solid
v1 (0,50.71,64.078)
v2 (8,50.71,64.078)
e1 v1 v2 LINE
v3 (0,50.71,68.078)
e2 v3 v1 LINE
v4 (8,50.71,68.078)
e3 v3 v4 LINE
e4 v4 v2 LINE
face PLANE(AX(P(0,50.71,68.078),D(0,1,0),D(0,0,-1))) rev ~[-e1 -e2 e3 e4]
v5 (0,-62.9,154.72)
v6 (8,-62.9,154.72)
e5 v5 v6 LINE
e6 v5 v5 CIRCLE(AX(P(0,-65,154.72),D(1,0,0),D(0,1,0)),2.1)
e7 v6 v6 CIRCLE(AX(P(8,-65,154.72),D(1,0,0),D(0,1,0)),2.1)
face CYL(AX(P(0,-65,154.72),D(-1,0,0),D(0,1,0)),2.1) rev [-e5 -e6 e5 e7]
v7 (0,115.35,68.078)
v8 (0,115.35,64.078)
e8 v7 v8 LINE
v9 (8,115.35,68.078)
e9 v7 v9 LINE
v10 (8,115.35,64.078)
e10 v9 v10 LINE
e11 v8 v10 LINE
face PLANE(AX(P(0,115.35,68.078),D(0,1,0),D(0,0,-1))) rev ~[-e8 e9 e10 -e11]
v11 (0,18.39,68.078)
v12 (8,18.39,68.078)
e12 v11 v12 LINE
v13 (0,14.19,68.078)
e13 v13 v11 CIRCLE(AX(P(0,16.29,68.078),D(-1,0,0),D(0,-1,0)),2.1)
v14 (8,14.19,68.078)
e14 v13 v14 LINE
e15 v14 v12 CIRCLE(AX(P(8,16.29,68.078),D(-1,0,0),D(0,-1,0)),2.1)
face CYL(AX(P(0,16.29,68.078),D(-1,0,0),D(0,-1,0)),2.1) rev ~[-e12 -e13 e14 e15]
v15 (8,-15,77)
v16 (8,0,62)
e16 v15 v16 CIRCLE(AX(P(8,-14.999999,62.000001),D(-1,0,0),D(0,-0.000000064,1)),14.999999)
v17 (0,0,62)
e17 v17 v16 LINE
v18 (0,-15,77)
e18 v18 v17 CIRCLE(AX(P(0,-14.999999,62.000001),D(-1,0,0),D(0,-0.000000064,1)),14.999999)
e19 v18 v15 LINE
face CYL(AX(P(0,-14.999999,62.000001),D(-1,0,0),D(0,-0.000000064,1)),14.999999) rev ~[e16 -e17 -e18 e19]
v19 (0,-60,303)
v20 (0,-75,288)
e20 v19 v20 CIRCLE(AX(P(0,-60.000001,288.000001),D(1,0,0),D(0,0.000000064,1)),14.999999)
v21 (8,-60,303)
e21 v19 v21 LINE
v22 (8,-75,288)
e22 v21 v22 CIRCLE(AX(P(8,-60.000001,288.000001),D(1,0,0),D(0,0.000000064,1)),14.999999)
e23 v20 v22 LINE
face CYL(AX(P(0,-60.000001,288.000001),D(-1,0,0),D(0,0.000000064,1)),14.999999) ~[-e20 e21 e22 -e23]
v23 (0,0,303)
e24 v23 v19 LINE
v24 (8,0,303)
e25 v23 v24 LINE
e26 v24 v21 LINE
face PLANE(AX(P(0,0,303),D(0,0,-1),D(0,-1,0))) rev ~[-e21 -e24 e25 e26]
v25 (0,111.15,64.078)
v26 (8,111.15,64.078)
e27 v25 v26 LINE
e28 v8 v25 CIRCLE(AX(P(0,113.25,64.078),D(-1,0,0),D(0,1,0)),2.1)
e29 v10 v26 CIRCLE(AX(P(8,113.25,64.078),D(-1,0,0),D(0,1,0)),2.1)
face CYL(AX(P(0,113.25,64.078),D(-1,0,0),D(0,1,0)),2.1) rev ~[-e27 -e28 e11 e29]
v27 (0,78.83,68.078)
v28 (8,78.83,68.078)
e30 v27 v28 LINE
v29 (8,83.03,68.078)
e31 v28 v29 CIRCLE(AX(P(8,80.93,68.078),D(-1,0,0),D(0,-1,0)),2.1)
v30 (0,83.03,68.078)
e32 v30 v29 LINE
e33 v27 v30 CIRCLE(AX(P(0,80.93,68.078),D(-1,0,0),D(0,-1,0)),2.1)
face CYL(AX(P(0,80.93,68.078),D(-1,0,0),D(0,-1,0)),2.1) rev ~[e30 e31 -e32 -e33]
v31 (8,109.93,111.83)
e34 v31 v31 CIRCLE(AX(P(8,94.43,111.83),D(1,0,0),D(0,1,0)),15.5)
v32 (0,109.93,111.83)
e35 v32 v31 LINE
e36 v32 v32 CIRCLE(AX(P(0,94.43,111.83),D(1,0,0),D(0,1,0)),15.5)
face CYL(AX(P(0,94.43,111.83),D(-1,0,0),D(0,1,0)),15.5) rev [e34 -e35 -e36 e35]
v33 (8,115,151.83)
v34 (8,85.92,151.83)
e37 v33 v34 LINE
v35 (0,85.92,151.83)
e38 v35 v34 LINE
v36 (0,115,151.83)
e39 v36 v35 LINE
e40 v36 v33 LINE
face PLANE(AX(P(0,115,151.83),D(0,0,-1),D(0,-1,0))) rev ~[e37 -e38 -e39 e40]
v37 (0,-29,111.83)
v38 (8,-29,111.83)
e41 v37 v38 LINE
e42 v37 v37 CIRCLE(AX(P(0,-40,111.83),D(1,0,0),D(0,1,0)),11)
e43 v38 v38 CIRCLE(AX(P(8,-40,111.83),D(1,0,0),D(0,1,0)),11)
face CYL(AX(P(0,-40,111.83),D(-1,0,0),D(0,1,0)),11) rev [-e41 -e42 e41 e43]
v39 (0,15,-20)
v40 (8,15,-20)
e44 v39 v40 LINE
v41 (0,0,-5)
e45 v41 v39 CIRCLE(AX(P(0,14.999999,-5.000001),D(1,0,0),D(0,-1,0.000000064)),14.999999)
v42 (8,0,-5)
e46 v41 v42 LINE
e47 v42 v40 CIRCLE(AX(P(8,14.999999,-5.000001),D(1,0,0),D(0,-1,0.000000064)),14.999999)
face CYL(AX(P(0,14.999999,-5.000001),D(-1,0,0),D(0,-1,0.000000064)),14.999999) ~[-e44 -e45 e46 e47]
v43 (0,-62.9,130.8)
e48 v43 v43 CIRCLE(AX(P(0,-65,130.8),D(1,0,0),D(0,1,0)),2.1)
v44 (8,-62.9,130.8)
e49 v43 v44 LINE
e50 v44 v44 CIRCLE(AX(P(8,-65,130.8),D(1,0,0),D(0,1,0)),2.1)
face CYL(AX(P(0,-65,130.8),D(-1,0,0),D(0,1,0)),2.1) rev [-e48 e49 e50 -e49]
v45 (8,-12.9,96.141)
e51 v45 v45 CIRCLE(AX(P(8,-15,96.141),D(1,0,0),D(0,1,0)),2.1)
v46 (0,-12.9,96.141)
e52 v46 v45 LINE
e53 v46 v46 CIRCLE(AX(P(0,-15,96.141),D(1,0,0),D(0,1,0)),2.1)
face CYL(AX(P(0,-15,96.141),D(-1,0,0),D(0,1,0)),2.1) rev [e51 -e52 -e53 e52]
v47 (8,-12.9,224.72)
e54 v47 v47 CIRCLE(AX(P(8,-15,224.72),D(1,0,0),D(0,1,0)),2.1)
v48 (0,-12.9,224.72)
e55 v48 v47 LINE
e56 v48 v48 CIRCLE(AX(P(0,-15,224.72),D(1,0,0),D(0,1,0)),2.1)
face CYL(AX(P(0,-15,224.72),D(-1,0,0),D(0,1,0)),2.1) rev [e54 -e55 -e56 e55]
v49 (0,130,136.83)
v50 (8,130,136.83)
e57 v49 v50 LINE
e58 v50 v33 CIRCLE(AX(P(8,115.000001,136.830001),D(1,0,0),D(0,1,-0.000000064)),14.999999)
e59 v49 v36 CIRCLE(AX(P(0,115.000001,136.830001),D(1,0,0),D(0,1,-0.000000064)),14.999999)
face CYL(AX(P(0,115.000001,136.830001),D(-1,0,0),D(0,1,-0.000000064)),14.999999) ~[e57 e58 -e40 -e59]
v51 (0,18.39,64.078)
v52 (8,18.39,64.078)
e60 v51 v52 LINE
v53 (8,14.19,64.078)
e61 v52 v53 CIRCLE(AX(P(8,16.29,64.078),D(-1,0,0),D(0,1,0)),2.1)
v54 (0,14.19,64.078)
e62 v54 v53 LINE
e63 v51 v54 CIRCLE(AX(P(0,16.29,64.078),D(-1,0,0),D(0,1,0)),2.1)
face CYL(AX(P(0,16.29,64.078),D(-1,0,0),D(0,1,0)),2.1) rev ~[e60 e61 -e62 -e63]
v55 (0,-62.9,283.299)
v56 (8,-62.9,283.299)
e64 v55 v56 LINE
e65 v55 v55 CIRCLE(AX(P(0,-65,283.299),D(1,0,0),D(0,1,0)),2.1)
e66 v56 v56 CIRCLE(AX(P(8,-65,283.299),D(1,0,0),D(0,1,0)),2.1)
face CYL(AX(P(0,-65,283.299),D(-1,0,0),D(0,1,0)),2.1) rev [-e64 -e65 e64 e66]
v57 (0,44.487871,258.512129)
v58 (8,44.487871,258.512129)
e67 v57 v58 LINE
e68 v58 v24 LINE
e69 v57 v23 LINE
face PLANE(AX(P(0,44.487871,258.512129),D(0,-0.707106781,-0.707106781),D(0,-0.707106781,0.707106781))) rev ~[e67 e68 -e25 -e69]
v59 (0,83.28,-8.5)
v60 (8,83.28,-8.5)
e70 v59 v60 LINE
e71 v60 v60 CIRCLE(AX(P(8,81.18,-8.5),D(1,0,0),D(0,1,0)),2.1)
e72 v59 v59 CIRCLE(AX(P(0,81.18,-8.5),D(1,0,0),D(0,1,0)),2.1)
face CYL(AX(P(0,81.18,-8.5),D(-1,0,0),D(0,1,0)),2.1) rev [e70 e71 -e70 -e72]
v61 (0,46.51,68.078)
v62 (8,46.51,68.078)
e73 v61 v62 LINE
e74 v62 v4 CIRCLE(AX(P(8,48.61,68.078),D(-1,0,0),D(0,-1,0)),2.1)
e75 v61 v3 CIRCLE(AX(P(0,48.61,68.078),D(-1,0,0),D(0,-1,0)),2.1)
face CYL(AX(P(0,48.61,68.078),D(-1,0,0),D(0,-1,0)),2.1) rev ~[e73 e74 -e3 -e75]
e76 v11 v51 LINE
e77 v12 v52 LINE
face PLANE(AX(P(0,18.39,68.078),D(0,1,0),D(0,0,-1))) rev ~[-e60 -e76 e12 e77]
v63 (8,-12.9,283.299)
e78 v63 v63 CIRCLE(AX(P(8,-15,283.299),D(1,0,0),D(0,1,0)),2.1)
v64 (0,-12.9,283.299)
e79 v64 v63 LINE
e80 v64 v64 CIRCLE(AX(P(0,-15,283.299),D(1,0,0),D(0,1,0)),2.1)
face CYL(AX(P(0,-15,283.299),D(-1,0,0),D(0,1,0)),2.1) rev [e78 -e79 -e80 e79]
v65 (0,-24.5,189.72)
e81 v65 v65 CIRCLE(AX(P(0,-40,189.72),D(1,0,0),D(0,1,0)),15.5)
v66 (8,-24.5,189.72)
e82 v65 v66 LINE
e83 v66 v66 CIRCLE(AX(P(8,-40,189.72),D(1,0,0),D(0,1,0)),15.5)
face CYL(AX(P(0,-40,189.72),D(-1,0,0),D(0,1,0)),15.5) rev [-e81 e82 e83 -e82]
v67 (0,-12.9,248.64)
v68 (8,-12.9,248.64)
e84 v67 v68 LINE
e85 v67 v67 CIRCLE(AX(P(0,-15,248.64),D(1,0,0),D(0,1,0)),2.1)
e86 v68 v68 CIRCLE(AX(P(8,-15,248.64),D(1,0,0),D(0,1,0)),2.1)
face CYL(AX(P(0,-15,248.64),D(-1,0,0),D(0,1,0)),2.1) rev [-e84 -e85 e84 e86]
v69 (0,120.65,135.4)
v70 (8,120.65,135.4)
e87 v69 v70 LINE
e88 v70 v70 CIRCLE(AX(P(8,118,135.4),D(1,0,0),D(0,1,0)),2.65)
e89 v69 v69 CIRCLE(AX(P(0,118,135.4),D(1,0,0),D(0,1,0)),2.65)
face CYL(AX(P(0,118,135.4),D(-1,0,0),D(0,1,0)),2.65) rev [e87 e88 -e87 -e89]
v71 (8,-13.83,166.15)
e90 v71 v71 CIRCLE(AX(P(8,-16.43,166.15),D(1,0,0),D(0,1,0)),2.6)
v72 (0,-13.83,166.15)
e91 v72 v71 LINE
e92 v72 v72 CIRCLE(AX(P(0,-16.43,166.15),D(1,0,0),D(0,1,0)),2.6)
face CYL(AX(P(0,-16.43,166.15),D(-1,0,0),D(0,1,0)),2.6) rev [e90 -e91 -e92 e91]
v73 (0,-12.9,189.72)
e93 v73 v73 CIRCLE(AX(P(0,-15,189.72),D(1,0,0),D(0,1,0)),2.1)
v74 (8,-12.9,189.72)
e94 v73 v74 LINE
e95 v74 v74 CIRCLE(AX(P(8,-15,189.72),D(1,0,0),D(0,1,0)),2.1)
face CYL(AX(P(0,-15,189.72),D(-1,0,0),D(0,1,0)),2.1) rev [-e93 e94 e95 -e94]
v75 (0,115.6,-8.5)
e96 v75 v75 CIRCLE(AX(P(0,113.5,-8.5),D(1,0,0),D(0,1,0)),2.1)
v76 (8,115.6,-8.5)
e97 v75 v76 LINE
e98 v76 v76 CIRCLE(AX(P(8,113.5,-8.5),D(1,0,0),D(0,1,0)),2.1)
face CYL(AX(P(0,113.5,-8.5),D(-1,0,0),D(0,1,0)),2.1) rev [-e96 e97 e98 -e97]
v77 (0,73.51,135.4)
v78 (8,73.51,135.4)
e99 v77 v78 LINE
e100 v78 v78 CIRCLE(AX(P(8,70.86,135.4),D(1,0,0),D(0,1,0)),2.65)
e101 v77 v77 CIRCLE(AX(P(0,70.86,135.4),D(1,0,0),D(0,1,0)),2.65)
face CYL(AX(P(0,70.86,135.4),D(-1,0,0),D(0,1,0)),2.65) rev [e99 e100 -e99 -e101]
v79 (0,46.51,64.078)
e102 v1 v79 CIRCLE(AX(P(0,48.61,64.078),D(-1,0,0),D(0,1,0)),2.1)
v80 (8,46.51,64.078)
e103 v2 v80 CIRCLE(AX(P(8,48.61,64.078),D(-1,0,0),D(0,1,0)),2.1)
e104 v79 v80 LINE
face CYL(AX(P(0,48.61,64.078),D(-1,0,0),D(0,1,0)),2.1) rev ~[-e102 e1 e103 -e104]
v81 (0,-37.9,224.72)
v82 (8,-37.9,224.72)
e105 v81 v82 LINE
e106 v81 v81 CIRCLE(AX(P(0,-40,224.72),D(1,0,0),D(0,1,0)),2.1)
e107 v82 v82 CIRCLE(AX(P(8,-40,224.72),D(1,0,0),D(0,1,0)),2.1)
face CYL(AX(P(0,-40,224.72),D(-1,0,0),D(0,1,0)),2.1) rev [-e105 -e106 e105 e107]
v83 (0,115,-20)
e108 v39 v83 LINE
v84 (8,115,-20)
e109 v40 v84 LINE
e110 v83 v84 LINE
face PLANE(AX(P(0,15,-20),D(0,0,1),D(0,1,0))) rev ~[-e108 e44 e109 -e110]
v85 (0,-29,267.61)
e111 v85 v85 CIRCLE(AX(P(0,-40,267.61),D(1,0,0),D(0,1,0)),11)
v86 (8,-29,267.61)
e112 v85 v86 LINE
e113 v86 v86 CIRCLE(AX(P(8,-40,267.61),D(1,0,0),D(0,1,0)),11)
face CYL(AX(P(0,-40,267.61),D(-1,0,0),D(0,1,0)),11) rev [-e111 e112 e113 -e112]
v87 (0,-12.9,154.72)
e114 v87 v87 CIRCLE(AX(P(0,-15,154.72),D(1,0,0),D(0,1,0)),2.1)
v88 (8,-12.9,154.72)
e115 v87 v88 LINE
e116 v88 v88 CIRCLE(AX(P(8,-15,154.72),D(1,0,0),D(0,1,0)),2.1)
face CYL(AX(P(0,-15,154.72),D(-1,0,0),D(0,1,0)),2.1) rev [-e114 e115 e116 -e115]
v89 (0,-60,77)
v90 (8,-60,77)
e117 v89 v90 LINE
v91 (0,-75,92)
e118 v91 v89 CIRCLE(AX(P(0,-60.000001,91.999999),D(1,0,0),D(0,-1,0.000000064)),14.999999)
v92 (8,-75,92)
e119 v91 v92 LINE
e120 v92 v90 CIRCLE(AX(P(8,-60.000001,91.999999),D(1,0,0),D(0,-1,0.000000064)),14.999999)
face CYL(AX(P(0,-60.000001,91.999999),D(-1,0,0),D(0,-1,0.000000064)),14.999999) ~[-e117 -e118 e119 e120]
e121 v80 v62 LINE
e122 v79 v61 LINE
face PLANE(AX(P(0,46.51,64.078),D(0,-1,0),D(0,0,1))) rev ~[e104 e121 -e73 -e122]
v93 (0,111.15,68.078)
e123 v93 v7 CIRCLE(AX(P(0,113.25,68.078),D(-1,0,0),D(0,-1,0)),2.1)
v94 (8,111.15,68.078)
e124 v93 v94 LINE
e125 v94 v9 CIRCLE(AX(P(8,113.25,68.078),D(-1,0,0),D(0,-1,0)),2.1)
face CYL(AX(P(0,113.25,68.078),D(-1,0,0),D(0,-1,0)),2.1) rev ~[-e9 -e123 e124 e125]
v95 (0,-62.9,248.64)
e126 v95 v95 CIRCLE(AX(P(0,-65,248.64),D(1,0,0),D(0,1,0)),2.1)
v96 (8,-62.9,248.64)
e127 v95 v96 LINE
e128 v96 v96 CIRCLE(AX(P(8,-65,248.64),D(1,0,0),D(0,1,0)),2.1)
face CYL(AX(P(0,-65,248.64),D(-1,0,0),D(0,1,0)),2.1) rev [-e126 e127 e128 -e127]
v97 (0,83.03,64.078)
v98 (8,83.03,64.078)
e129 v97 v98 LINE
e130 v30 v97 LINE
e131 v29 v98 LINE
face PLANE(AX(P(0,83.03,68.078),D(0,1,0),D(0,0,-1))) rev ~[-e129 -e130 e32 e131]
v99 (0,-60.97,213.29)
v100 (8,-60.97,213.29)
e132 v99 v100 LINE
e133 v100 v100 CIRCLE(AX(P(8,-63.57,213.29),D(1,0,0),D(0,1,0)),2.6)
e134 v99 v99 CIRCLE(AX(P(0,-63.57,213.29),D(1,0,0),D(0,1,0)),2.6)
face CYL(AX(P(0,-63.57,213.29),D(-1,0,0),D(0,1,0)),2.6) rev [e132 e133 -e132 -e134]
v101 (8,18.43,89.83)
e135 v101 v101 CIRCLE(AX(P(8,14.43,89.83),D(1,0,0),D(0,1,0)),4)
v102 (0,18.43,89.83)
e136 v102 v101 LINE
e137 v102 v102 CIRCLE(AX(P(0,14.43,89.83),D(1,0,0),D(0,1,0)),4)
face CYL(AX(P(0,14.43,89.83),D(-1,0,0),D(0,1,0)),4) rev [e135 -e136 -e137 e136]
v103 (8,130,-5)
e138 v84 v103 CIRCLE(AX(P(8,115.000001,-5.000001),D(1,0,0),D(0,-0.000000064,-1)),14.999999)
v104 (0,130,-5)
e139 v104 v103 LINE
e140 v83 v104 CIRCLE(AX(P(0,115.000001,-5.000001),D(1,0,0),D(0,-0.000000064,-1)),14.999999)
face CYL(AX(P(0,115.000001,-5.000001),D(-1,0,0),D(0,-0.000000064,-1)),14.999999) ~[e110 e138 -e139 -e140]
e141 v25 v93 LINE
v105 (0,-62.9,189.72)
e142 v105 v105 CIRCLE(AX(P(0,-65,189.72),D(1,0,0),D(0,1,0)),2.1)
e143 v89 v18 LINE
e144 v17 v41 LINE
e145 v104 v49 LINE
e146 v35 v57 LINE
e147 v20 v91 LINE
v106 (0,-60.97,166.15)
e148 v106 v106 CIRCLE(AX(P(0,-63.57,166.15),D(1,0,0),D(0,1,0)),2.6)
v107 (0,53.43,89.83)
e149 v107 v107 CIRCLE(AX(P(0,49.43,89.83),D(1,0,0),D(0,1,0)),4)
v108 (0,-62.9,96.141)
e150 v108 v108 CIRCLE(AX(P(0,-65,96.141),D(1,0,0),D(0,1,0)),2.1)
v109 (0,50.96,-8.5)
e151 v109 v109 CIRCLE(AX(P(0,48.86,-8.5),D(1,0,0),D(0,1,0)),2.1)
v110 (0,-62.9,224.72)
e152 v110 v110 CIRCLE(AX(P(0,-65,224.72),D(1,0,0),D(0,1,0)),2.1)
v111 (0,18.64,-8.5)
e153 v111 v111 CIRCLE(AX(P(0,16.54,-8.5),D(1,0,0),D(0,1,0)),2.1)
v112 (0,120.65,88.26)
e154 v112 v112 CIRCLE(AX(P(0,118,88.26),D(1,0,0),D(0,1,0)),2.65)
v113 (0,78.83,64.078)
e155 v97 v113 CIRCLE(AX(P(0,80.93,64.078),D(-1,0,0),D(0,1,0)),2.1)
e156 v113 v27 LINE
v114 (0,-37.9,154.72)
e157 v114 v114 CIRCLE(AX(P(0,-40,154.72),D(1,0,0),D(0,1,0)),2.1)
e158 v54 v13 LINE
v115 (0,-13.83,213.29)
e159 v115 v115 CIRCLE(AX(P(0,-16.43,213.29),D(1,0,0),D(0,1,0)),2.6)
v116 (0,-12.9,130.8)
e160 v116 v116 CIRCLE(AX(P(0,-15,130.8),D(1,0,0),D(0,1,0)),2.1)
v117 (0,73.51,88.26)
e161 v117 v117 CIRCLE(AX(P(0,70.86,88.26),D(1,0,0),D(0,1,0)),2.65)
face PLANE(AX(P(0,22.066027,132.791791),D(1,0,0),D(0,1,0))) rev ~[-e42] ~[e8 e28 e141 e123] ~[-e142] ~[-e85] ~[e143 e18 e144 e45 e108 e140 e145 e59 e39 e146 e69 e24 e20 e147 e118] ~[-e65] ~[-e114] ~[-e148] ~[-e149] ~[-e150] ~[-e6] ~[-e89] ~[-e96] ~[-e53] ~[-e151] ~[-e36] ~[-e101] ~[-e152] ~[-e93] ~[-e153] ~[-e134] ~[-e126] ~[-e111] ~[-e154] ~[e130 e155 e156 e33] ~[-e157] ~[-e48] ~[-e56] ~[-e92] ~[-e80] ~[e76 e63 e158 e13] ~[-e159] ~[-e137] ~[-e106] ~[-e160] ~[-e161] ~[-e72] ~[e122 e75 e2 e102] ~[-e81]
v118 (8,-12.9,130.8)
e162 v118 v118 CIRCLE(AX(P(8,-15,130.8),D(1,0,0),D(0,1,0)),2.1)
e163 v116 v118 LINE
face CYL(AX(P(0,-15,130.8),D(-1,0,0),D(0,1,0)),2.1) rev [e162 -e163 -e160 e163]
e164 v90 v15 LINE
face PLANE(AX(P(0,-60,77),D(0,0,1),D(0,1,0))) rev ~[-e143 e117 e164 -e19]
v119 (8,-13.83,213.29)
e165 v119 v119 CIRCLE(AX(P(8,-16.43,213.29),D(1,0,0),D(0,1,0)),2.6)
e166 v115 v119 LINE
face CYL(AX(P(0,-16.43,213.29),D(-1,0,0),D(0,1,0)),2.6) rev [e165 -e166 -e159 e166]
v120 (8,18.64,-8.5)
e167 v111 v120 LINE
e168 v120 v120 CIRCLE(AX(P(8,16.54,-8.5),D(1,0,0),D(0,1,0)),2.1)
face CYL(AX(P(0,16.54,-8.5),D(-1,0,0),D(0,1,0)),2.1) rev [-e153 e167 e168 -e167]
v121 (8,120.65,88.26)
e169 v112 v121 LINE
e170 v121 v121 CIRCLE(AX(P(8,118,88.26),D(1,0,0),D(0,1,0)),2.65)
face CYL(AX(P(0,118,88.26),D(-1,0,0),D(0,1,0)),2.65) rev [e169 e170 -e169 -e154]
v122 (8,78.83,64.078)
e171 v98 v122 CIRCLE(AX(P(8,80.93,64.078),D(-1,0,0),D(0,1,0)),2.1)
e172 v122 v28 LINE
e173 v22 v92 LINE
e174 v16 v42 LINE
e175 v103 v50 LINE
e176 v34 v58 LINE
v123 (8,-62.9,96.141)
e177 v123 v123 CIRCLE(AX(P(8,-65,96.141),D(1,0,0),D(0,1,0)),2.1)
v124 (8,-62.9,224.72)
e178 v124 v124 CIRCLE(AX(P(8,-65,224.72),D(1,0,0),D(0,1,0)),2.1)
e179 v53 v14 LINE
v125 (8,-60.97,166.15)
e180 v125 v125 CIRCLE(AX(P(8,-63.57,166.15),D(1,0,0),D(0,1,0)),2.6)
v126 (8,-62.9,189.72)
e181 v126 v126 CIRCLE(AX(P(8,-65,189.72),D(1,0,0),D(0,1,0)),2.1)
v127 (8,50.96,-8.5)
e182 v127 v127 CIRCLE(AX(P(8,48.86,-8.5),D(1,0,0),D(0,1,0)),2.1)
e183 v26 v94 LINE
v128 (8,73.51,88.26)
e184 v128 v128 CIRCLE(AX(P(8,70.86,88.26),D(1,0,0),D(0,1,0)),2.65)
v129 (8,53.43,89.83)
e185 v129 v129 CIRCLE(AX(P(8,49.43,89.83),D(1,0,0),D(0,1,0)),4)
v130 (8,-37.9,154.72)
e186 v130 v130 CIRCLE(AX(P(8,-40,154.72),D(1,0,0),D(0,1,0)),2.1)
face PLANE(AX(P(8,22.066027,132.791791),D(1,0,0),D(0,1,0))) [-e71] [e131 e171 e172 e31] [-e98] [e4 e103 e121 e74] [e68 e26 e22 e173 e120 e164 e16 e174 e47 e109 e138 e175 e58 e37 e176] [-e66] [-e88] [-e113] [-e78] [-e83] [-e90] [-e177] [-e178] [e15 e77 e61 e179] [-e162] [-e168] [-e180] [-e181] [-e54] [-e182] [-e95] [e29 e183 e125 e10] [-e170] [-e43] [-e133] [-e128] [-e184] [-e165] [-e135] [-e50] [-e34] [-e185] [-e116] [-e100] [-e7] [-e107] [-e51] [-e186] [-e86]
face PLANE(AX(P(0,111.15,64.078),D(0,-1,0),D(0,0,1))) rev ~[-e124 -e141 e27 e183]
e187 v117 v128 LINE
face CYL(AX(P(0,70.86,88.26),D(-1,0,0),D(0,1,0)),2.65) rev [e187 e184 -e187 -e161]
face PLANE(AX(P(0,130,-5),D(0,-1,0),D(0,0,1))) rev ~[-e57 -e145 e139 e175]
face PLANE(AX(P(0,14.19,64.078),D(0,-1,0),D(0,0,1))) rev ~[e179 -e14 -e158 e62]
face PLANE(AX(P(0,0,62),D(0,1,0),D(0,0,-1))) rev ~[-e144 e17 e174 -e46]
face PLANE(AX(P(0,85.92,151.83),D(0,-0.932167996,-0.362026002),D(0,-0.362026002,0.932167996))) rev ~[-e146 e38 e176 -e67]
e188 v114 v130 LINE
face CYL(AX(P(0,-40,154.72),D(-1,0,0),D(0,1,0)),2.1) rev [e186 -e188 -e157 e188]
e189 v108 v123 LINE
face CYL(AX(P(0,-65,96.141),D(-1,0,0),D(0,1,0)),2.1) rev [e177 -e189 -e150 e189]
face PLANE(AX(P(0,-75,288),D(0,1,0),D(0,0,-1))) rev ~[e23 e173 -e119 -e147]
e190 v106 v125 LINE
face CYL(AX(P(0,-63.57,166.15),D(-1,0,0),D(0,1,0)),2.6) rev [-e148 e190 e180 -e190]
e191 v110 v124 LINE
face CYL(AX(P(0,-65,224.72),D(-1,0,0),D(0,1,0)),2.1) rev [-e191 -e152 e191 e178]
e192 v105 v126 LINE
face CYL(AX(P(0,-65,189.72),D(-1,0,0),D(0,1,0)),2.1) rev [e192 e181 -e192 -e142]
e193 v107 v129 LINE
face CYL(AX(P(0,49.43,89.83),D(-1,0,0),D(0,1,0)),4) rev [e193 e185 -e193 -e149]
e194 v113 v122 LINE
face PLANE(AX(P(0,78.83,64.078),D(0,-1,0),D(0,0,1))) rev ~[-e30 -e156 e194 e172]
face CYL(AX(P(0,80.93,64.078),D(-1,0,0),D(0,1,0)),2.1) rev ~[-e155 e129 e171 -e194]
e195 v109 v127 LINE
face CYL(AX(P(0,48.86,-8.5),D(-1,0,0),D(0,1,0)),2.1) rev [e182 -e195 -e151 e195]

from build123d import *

# Parameters (mm, degrees)
F0_R     = 2.1
F0_R_2   = 11
F0_R_3   = 4
F0_R_4   = 2.65
F0_R_5   = 15.5
F0_R_6   = 2.6
F1_DEPTH = 8


with BuildPart() as f1:
    # F0 (on Right) → F1 (new body)
    with BuildSketch(Plane.YZ):
        with BuildLine():
            ThreePointArc((0, -5), (4.393398, -15.606602), (15, -20))
            Line((15, -20), (115, -20))
            ThreePointArc((115, -20), (125.606602, -15.606602), (130, -5))
            Line((130, -5), (130, 136.83))
            ThreePointArc((130, 136.83), (125.606602, 147.436602), (115, 151.83))
            Line((115, 151.83), (85.92, 151.83))
            Line((85.92, 151.83), (44.487871, 258.512129))
            Line((44.487871, 258.512129), (0, 303))
            Line((0, 303), (-60, 303))
            ThreePointArc((-60, 303), (-70.606602, 298.606602), (-75, 288))
            Line((-75, 288), (-75, 92))
            ThreePointArc((-75, 92), (-70.606602, 81.393398), (-60, 77))
            Line((-60, 77), (-15, 77))
            ThreePointArc((-15, 77), (-4.393398, 72.606602), (0, 62))
            Line((0, 62), (0, -5))
        make_face()
        with Locations((16.54, -8.5)):
            Circle(F0_R, mode=Mode.SUBTRACT)
        with Locations((-65, 96.141)):
            Circle(F0_R, mode=Mode.SUBTRACT)
        with Locations((-65, 130.8)):
            Circle(F0_R, mode=Mode.SUBTRACT)
        with Locations((-40, 111.83)):
            Circle(F0_R_2, mode=Mode.SUBTRACT)
        with Locations((-15, 96.141)):
            Circle(F0_R, mode=Mode.SUBTRACT)
        with BuildLine():
            Line((14.19, 64.078), (14.19, 68.078))
            ThreePointArc((14.19, 68.078), (16.29, 70.178), (18.39, 68.078))
            Line((18.39, 68.078), (18.39, 64.078))
            ThreePointArc((18.39, 64.078), (16.29, 61.978), (14.19, 64.078))
        make_face(mode=Mode.SUBTRACT)
        with Locations((14.43, 89.83)):
            Circle(F0_R_3, mode=Mode.SUBTRACT)
        with Locations((-15, 130.8)):
            Circle(F0_R, mode=Mode.SUBTRACT)
        with Locations((48.86, -8.5)):
            Circle(F0_R, mode=Mode.SUBTRACT)
        with Locations((81.18, -8.5)):
            Circle(F0_R, mode=Mode.SUBTRACT)
        with Locations((113.5, -8.5)):
            Circle(F0_R, mode=Mode.SUBTRACT)
        with BuildLine():
            Line((46.51, 64.078), (46.51, 68.078))
            ThreePointArc((46.51, 68.078), (48.61, 70.178), (50.71, 68.078))
            Line((50.71, 68.078), (50.71, 64.078))
            ThreePointArc((50.71, 64.078), (48.61, 61.978), (46.51, 64.078))
        make_face(mode=Mode.SUBTRACT)
        with Locations((49.43, 89.83)):
            Circle(F0_R_3, mode=Mode.SUBTRACT)
        with Locations((70.86, 88.26)):
            Circle(F0_R_4, mode=Mode.SUBTRACT)
        with Locations((70.86, 135.4)):
            Circle(F0_R_4, mode=Mode.SUBTRACT)
        with BuildLine():
            Line((78.83, 64.078), (78.83, 68.078))
            ThreePointArc((78.83, 68.078), (80.93, 70.178), (83.03, 68.078))
            Line((83.03, 68.078), (83.03, 64.078))
            ThreePointArc((83.03, 64.078), (80.93, 61.978), (78.83, 64.078))
        make_face(mode=Mode.SUBTRACT)
        with BuildLine():
            Line((111.15, 64.078), (111.15, 68.078))
            ThreePointArc((111.15, 68.078), (113.25, 70.178), (115.35, 68.078))
            Line((115.35, 68.078), (115.35, 64.078))
            ThreePointArc((115.35, 64.078), (113.25, 61.978), (111.15, 64.078))
        make_face(mode=Mode.SUBTRACT)
        with Locations((118, 88.26)):
            Circle(F0_R_4, mode=Mode.SUBTRACT)
        with Locations((94.43, 111.83)):
            Circle(F0_R_5, mode=Mode.SUBTRACT)
        with Locations((118, 135.4)):
            Circle(F0_R_4, mode=Mode.SUBTRACT)
        with Locations((-65, 154.72)):
            Circle(F0_R, mode=Mode.SUBTRACT)
        with Locations((-63.57, 166.15)):
            Circle(F0_R_6, mode=Mode.SUBTRACT)
        with Locations((-40, 154.72)):
            Circle(F0_R, mode=Mode.SUBTRACT)
        with Locations((-65, 189.72)):
            Circle(F0_R, mode=Mode.SUBTRACT)
        with Locations((-63.57, 213.29)):
            Circle(F0_R_6, mode=Mode.SUBTRACT)
        with Locations((-40, 189.72)):
            Circle(F0_R_5, mode=Mode.SUBTRACT)
        with Locations((-15, 154.72)):
            Circle(F0_R, mode=Mode.SUBTRACT)
        with Locations((-16.43, 166.15)):
            Circle(F0_R_6, mode=Mode.SUBTRACT)
        with Locations((-15, 189.72)):
            Circle(F0_R, mode=Mode.SUBTRACT)
        with Locations((-16.43, 213.29)):
            Circle(F0_R_6, mode=Mode.SUBTRACT)
        with Locations((-65, 224.72)):
            Circle(F0_R, mode=Mode.SUBTRACT)
        with Locations((-65, 248.64)):
            Circle(F0_R, mode=Mode.SUBTRACT)
        with Locations((-40, 224.72)):
            Circle(F0_R, mode=Mode.SUBTRACT)
        with Locations((-65, 283.299)):
            Circle(F0_R, mode=Mode.SUBTRACT)
        with Locations((-40, 267.61)):
            Circle(F0_R_2, mode=Mode.SUBTRACT)
        with Locations((-15, 224.72)):
            Circle(F0_R, mode=Mode.SUBTRACT)
        with Locations((-15, 248.64)):
            Circle(F0_R, mode=Mode.SUBTRACT)
        with Locations((-15, 283.299)):
            Circle(F0_R, mode=Mode.SUBTRACT)
    extrude(amount=F1_DEPTH)


solid = f1.part
